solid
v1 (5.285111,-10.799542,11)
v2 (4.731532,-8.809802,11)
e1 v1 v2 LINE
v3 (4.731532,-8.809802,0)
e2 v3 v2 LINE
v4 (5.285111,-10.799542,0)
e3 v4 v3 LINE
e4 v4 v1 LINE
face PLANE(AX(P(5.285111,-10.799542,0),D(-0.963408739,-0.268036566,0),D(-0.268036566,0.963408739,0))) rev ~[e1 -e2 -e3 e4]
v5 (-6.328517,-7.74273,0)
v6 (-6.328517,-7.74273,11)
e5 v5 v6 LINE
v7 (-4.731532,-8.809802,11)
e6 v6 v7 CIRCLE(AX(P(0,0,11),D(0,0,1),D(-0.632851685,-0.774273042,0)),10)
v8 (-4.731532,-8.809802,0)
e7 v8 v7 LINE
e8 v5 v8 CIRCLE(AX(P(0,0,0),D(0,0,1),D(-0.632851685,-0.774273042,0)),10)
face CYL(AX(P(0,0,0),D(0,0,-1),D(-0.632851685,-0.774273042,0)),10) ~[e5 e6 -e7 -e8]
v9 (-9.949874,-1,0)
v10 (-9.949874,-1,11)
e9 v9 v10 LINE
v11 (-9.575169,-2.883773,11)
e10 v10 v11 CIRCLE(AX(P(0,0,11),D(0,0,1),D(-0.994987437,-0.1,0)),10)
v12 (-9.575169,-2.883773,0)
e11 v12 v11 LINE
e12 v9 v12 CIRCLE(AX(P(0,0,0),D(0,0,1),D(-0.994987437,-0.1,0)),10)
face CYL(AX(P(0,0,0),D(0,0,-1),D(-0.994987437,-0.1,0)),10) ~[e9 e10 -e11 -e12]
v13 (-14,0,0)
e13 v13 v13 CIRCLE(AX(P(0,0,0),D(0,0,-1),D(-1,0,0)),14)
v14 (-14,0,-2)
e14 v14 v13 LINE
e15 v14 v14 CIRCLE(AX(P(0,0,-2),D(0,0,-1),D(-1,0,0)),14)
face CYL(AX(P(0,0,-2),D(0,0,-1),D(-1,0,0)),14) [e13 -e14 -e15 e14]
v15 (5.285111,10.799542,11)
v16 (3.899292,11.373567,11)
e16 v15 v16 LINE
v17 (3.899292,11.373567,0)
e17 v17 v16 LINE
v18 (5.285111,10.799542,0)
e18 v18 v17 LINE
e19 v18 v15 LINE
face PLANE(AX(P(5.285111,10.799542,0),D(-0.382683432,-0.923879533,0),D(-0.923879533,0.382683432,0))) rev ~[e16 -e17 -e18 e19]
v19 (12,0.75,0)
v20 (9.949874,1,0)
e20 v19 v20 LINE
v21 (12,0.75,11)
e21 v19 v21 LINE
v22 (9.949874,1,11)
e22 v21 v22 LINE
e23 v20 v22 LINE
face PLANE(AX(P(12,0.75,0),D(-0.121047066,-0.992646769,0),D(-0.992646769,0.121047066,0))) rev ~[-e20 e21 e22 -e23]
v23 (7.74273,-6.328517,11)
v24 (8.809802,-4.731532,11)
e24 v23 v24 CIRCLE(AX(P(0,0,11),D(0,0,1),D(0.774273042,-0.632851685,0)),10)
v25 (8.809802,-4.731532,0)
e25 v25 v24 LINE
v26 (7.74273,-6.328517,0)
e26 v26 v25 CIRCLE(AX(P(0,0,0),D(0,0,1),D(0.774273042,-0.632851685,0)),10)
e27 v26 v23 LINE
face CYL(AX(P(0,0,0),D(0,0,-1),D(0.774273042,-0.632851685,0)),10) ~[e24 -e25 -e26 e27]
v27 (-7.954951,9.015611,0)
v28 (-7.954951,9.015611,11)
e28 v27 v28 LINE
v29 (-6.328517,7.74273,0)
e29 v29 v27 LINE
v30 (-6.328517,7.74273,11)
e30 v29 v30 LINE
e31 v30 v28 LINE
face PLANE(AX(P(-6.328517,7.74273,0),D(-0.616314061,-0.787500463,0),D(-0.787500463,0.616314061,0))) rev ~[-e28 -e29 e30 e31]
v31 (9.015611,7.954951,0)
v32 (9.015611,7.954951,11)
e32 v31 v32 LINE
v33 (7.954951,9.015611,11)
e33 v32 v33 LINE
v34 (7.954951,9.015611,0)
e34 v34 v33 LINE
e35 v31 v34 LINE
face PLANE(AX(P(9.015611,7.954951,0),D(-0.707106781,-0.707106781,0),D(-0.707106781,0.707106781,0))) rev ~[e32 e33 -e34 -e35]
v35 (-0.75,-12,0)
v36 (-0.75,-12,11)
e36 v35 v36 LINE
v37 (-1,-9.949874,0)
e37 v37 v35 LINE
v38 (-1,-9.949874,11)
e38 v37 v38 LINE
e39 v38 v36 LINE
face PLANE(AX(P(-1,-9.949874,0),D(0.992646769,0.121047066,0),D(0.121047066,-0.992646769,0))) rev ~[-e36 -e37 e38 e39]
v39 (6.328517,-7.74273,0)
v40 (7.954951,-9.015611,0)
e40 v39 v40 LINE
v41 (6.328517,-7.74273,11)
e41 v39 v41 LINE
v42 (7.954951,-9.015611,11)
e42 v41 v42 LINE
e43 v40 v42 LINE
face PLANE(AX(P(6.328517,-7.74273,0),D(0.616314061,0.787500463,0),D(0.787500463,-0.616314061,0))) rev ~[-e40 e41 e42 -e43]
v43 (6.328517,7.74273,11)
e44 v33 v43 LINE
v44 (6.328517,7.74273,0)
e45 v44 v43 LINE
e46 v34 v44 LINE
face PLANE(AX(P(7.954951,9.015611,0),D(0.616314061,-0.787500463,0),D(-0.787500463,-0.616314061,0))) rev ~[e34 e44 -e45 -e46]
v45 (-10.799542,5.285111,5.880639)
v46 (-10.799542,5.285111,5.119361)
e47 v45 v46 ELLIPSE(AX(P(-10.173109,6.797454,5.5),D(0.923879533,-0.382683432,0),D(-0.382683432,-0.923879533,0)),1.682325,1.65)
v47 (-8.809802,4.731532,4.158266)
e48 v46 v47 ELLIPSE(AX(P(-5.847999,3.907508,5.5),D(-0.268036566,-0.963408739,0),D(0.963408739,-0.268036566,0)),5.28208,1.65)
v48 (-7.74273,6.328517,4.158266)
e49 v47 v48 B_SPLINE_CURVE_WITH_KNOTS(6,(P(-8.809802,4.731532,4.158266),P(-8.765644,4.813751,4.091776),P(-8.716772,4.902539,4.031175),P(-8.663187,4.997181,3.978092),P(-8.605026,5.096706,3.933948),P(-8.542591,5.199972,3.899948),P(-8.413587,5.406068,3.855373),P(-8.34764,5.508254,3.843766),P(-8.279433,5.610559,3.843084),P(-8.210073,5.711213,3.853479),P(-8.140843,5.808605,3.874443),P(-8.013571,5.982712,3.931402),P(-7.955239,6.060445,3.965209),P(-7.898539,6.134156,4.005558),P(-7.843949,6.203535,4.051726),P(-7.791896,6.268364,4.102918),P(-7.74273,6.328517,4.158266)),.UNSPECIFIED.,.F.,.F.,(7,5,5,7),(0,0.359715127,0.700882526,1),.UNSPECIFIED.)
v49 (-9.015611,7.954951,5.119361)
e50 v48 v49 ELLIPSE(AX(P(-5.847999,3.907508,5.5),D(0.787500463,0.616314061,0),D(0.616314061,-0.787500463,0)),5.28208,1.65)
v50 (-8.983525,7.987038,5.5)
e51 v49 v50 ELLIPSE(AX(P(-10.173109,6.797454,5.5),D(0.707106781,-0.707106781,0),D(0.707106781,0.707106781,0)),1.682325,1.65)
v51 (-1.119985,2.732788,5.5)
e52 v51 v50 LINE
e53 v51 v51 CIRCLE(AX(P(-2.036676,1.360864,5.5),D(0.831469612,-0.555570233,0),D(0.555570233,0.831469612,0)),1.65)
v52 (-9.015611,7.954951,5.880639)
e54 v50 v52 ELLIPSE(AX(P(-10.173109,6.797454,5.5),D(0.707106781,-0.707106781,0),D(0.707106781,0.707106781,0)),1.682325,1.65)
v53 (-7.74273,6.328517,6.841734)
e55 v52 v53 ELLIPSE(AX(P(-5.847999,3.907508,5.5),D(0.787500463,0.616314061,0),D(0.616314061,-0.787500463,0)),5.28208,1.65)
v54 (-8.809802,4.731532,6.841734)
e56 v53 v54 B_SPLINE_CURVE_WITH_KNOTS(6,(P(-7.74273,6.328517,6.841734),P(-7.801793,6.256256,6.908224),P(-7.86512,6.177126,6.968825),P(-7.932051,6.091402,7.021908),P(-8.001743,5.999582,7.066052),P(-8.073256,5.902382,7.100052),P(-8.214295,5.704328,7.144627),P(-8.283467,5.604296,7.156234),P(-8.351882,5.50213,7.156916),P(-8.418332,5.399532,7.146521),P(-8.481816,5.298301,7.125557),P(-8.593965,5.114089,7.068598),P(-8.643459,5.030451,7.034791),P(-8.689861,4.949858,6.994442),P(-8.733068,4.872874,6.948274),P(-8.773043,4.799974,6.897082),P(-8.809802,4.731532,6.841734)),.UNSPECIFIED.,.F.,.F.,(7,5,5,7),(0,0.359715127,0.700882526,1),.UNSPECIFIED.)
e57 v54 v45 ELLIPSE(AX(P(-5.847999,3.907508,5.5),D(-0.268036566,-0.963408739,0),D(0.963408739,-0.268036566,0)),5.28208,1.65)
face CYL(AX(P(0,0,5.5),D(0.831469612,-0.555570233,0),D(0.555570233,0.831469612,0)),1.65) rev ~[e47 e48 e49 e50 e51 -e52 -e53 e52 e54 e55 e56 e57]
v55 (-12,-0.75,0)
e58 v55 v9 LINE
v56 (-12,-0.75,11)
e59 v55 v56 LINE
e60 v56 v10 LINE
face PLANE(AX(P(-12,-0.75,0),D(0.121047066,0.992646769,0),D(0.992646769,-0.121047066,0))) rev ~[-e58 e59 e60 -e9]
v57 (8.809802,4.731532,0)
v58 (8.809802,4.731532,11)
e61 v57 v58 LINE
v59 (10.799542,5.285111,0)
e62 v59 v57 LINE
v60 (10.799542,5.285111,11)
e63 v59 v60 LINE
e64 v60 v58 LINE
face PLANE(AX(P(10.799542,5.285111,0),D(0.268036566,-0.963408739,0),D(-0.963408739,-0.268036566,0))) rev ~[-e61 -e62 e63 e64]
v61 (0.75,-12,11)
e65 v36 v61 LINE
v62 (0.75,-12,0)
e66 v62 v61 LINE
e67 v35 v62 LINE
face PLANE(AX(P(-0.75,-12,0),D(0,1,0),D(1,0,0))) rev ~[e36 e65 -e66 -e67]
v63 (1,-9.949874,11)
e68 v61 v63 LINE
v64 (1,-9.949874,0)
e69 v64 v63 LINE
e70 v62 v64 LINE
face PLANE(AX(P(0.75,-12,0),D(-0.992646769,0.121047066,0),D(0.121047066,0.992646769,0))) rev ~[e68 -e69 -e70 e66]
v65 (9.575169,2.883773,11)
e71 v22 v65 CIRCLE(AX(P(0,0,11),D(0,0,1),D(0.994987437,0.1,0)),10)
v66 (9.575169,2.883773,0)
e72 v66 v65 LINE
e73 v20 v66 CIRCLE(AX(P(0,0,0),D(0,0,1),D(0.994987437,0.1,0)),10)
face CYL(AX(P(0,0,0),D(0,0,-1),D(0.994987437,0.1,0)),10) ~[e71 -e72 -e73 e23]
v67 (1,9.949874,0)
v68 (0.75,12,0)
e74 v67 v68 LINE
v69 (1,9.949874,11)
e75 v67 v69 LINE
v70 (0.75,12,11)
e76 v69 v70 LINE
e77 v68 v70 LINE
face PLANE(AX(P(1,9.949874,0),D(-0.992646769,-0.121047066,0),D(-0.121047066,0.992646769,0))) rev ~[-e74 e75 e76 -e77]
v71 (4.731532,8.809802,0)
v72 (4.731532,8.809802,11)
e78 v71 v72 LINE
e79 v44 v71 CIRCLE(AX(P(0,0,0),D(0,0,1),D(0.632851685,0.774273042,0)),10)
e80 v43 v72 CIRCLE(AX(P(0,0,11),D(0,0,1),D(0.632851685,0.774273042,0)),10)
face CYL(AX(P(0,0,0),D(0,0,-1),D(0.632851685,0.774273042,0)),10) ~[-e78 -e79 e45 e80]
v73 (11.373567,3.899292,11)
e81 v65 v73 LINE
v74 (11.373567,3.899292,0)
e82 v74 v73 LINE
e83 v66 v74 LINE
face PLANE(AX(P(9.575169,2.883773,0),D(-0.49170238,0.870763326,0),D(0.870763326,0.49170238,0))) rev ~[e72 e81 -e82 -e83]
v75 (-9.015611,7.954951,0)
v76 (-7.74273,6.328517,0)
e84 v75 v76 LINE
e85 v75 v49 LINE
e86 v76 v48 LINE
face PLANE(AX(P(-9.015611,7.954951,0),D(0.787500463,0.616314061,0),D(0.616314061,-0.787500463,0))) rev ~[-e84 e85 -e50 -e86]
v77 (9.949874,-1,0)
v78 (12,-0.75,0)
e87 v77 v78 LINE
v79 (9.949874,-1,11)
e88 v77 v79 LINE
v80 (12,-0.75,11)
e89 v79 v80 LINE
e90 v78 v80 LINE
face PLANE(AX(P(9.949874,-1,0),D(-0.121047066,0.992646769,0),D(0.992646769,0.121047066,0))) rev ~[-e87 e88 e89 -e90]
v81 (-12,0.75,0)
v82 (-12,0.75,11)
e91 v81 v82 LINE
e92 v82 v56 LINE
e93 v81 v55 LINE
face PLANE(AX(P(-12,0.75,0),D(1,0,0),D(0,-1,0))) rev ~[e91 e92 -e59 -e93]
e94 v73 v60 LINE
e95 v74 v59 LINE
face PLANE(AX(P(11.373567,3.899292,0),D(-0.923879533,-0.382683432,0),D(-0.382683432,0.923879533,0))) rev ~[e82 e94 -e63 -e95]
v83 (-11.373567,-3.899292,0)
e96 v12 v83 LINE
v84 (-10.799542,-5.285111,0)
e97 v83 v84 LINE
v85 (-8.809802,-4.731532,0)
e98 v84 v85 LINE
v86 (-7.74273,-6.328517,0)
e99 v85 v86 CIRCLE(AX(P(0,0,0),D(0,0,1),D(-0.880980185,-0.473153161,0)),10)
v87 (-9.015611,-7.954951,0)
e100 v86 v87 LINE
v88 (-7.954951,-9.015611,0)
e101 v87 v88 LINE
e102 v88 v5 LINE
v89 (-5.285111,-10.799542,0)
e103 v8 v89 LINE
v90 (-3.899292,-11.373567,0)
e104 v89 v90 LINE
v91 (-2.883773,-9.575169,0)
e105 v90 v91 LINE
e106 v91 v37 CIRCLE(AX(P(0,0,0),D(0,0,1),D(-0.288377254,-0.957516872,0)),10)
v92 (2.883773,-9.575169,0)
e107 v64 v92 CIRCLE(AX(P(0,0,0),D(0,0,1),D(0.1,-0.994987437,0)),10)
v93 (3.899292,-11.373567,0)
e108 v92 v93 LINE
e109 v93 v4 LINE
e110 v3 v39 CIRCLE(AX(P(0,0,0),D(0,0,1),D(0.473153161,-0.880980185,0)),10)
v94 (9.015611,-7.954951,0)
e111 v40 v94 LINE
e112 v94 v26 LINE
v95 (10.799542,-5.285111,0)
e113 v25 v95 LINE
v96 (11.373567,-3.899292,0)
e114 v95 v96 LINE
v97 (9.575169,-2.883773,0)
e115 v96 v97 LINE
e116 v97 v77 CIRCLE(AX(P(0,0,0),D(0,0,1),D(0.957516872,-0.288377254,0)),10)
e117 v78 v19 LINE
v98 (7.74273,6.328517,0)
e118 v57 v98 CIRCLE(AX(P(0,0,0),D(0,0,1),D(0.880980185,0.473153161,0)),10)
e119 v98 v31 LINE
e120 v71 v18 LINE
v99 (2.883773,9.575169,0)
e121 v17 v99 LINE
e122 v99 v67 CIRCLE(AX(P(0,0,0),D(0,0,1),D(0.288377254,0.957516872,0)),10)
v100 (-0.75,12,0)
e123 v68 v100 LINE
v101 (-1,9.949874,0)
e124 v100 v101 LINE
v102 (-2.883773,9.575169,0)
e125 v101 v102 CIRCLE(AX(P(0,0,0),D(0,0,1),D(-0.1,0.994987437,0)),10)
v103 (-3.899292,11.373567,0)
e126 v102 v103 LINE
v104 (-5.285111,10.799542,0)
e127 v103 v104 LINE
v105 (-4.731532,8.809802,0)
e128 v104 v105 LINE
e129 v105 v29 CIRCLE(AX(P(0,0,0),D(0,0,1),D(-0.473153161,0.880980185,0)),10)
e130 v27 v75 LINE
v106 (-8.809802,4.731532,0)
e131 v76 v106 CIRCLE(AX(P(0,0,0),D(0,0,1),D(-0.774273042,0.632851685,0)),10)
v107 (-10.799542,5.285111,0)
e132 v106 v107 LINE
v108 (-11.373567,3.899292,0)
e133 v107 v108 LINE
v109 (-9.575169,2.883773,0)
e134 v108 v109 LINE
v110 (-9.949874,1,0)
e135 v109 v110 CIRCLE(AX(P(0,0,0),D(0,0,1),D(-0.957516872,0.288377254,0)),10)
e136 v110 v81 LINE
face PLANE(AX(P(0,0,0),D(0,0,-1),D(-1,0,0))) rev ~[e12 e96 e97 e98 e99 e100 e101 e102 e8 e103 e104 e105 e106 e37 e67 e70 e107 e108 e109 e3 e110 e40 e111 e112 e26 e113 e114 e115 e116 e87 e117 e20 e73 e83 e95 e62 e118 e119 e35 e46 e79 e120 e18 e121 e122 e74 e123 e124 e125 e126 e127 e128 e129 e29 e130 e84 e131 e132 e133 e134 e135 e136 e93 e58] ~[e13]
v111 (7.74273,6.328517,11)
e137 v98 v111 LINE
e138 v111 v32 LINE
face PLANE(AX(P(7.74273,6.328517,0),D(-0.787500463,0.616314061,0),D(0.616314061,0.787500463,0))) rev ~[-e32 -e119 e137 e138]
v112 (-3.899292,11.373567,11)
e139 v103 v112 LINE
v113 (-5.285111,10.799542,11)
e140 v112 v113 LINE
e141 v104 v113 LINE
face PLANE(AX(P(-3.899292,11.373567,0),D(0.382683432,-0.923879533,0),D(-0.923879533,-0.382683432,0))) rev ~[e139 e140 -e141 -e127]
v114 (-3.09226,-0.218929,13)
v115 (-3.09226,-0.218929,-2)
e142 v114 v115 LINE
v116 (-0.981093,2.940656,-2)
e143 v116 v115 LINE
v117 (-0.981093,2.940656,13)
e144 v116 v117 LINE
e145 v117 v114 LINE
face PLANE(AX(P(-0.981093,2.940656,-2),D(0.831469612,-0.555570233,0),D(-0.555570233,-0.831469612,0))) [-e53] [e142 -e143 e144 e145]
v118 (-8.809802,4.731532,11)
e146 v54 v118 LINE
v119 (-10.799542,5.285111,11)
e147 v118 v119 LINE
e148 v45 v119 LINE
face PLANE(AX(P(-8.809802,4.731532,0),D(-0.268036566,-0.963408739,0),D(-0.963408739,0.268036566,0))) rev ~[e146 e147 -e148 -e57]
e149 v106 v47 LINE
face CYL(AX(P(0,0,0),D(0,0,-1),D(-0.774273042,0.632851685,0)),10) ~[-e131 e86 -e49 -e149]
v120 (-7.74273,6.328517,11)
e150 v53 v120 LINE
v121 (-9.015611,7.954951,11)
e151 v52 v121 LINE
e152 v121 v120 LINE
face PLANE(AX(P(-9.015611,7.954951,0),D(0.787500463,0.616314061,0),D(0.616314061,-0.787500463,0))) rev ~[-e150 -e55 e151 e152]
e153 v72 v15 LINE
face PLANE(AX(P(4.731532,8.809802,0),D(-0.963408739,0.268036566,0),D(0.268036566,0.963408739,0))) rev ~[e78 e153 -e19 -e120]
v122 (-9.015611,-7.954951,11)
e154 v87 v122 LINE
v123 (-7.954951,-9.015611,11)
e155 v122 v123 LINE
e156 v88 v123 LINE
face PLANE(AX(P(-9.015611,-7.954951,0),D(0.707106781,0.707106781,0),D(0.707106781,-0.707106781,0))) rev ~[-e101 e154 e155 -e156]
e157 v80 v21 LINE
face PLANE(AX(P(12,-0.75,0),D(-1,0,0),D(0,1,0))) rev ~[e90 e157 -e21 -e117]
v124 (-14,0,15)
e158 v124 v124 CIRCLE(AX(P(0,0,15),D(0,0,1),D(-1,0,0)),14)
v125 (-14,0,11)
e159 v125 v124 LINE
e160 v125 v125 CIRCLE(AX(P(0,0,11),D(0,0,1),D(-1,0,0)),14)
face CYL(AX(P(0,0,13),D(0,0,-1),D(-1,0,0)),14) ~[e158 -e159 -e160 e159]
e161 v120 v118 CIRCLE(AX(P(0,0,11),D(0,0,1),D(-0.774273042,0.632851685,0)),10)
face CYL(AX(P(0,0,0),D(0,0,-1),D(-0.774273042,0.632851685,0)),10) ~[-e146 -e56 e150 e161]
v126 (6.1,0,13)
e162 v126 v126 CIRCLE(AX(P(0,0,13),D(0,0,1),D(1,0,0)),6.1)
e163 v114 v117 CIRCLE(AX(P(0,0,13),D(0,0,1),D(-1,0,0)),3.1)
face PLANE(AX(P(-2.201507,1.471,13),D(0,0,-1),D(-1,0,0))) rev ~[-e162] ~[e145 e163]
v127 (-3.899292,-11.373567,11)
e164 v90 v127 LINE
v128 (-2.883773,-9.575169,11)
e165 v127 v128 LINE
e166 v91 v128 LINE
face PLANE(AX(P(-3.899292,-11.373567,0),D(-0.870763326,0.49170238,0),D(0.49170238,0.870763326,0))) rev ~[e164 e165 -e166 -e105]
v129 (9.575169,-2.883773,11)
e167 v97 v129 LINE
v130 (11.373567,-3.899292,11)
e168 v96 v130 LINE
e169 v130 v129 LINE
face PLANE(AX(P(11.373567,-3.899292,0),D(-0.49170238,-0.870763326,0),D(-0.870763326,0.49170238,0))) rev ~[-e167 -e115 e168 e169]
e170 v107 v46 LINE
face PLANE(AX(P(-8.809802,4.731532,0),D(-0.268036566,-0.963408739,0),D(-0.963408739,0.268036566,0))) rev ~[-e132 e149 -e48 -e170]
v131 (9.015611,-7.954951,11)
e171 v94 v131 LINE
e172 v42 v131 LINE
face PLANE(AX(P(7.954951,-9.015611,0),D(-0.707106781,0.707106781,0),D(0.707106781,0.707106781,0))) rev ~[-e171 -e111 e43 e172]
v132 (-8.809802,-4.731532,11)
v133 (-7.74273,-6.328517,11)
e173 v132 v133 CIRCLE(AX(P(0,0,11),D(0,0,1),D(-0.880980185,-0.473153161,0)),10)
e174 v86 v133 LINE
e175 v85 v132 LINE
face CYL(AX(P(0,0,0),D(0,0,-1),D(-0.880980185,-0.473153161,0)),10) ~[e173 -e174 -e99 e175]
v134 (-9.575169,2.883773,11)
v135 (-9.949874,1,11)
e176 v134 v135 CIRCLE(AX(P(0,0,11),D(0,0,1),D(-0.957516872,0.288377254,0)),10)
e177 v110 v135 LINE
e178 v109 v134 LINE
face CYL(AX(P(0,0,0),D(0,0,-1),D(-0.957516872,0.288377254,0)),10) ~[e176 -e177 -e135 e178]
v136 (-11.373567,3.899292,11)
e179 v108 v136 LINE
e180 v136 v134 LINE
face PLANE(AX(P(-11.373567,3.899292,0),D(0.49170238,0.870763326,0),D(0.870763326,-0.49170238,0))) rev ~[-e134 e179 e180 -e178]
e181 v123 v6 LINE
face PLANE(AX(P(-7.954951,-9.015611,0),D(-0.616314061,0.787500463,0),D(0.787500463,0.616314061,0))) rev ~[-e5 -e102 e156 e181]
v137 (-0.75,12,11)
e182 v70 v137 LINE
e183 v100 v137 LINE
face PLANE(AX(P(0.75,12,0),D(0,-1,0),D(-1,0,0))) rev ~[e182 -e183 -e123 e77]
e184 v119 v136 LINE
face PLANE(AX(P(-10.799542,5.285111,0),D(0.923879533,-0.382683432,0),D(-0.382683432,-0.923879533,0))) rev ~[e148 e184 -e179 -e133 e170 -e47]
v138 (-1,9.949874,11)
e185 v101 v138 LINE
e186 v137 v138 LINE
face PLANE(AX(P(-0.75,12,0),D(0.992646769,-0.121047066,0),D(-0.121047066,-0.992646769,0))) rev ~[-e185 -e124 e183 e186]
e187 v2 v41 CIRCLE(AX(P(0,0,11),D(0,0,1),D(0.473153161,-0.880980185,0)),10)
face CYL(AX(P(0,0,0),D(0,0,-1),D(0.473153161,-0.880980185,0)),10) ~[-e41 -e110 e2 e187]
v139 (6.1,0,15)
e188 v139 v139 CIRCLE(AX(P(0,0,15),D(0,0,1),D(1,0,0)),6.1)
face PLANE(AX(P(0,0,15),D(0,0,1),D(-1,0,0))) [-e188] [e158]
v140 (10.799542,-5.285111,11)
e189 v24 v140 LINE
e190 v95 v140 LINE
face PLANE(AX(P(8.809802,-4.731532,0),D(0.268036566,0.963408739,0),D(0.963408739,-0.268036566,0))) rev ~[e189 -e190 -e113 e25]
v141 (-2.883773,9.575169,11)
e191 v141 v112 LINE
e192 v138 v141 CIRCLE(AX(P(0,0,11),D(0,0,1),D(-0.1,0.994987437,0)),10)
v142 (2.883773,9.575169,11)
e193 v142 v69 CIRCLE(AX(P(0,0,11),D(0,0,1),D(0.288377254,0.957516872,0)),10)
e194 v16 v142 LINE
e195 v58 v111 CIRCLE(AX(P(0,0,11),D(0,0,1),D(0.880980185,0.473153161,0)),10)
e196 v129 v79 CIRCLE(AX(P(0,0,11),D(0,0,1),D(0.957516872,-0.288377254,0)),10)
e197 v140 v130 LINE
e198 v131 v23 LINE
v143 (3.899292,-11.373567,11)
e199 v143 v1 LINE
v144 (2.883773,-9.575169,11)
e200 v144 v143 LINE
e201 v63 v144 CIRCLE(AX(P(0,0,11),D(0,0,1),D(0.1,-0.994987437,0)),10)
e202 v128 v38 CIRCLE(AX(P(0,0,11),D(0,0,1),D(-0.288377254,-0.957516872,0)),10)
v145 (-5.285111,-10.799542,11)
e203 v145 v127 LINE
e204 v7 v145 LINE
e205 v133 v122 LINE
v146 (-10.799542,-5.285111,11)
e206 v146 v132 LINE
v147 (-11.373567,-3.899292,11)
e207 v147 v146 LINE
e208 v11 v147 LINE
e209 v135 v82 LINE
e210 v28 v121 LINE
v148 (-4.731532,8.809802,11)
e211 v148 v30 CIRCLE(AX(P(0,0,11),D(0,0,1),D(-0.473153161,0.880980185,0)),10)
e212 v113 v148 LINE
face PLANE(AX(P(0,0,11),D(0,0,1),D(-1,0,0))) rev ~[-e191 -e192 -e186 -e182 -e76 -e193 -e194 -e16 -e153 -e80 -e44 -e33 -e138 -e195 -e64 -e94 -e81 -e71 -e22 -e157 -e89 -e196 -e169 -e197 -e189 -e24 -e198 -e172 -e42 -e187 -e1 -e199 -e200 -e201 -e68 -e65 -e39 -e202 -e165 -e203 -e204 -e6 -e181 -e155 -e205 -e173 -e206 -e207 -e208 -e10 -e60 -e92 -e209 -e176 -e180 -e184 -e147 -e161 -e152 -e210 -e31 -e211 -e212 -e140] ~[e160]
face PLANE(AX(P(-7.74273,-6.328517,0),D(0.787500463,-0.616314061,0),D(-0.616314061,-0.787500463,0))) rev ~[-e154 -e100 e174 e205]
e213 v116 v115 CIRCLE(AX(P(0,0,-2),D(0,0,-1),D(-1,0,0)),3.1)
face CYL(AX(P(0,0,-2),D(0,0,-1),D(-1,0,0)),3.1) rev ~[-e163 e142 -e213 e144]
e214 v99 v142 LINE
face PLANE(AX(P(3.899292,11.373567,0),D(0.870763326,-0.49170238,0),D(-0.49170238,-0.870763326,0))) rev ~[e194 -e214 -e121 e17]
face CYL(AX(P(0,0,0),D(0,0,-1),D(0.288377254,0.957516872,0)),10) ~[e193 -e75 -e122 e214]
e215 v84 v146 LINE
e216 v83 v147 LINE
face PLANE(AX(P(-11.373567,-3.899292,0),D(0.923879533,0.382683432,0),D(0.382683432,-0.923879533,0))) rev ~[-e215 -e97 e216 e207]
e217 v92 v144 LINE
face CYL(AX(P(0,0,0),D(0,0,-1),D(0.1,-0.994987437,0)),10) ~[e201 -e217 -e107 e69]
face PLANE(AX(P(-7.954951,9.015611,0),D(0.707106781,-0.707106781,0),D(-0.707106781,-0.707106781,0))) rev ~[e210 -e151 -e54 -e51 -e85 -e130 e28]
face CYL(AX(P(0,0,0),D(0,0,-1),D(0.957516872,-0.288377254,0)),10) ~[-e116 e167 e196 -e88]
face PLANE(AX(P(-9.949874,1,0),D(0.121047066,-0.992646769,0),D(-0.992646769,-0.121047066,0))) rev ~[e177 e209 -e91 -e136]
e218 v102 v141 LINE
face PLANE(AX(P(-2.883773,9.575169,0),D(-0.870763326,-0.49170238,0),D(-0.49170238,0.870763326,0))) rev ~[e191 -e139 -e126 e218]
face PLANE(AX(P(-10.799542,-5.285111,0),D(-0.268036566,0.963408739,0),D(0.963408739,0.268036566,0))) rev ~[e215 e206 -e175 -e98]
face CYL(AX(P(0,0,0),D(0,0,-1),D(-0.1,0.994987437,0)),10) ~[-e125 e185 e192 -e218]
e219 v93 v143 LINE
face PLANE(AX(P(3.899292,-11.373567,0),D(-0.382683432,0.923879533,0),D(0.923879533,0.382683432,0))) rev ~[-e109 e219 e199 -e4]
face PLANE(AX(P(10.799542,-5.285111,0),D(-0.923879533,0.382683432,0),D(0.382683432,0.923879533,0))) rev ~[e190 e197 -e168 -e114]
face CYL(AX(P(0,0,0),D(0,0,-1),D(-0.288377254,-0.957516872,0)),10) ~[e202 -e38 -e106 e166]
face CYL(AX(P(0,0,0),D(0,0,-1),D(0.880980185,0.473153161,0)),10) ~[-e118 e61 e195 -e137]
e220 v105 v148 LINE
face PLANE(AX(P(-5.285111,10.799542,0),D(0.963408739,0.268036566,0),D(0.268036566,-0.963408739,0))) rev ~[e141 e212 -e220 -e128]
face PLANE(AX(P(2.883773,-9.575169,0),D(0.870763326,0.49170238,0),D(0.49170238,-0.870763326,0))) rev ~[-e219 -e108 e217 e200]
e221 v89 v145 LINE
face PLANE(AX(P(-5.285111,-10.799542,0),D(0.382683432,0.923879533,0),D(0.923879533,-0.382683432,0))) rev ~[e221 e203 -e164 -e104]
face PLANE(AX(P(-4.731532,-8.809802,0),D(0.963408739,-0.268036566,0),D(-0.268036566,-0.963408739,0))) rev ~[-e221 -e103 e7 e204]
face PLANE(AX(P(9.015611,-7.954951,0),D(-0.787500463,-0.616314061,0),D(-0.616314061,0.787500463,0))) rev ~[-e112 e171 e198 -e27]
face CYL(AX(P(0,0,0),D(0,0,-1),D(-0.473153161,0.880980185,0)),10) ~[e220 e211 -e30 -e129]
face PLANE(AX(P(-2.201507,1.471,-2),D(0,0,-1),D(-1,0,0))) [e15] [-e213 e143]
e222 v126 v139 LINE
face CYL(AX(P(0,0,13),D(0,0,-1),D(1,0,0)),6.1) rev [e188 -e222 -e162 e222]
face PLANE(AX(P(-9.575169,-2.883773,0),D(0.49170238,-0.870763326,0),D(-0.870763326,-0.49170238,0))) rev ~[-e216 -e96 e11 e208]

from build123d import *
from build123d.topology import SkipClean

# Parameters (mm, degrees)
SKETCH_1_R          = 3.1
SKETCH_1_W          = 1.5
SKETCH_1_H          = 1.949874371
EXTRUDE_1_DEPTH     = 11
EXTRUDE_START       = 2
SKETCH_3_R          = 14
SKETCH_3_R_2        = 3.1
EXTRUDE_2_DEPTH     = 2
SKETCH_4_R          = 14
SKETCH_4_R_2        = 3.1
EXTRUDE_3_DEPTH     = 2
SKETCH_5_R          = 14
SKETCH_5_R_2        = 6.1
EXTRUDE_4_DEPTH     = 2
EXTRUDE_5_DEPTH     = 15
SKETCH_2_R          = 1.65
CUT_EXTRUDE_3_DEPTH = 25.839484697


with BuildPart() as part:
    # ｽｹｯﾁ1 → ﾎﾞｽ - 押し出し1 (new body)
    # profile 1 of 23: a face of its own
    with BuildSketch(Plane.XY):
        with BuildLine():
            ThreePointArc((-4.731531608, 8.80980185), (-3.826834324, 9.238795325), (-2.883772543, 9.575168715))
            Line((-2.883772543, 9.575168715), (-3.899291539, 11.373566964))
            Line((-3.899291539, 11.373566964), (-5.285110838, 10.799541816))
            Line((-5.285110838, 10.799541816), (-4.731531608, 8.80980185))
        make_face()
    # profile 2 of 23: a face of its own
    with BuildSketch(Plane.XY):
        with BuildLine():
            Line((-0.75, 9.971835338), (-0.75, 12))
            Line((-0.75, 12), (-1, 9.949874371))
            ThreePointArc((-1, 9.949874371), (-0.875068895, 9.961639144), (-0.75, 9.971835338))
        make_face()
    # profile 3 of 23: a face of its own
    with BuildSketch(Plane.XY):
        with BuildLine():
            Line((0.75, 12), (-0.75, 12))
            Line((-0.75, 12), (-0.75, 9.971835338))
            ThreePointArc((-0.75, 9.971835338), (0, 10), (0.75, 9.971835338))
            Line((0.75, 9.971835338), (0.75, 12))
        make_face()
    # profile 4 of 23: a face of its own
    with BuildSketch(Plane.XY):
        with BuildLine():
            Line((1, 9.949874371), (0.75, 12))
            Line((0.75, 12), (0.75, 9.971835338))
            ThreePointArc((0.75, 9.971835338), (0.875068895, 9.961639144), (1, 9.949874371))
        make_face()
    # profile 5 of 23: a face of its own
    with BuildSketch(Plane.XY):
        with BuildLine():
            ThreePointArc((-7.742730421, 6.328516859), (-7.071067812, 7.071067812), (-6.328516859, 7.742730421))
            Line((-6.328516859, 7.742730421), (-7.954951288, 9.01561146))
            Line((-7.954951288, 9.01561146), (-9.01561146, 7.954951288))
            Line((-9.01561146, 7.954951288), (-7.742730421, 6.328516859))
        make_face()
    # profile 6 of 23: a face of its own
    with BuildSketch(Plane.XY):
        with BuildLine():
            ThreePointArc((-9.575168715, 2.883772543), (-9.238795325, 3.826834324), (-8.80980185, 4.731531608))
            Line((-8.80980185, 4.731531608), (-10.799541816, 5.285110838))
            Line((-10.799541816, 5.285110838), (-11.373566964, 3.899291539))
            Line((-11.373566964, 3.899291539), (-9.575168715, 2.883772543))
        make_face()
    # profile 7 of 23: a face of its own
    with BuildSketch(Plane.XY):
        with BuildLine():
            ThreePointArc((-9.949874371, -1), (-10, 0), (-9.949874371, 1))
            Line((-9.949874371, 1), (-12, 0.75))
            Line((-12, 0.75), (-12, -0.75))
            Line((-12, -0.75), (-9.949874371, -1))
        make_face()
    # profile 8 of 23: a face of its own
    with BuildSketch(Plane.XY):
        with BuildLine():
            ThreePointArc((-8.80980185, -4.731531608), (-9.238795325, -3.826834324), (-9.575168715, -2.883772543))
            Line((-9.575168715, -2.883772543), (-11.373566964, -3.899291539))
            Line((-11.373566964, -3.899291539), (-10.799541816, -5.285110838))
            Line((-10.799541816, -5.285110838), (-8.80980185, -4.731531608))
        make_face()
    # profile 9 of 23: a face of its own
    with BuildSketch(Plane.XY):
        with BuildLine():
            ThreePointArc((-6.328516859, -7.742730421), (-7.071067812, -7.071067812), (-7.742730421, -6.328516859))
            Line((-7.742730421, -6.328516859), (-9.01561146, -7.954951288))
            Line((-9.01561146, -7.954951288), (-7.954951288, -9.01561146))
            Line((-7.954951288, -9.01561146), (-6.328516859, -7.742730421))
        make_face()
    # profile 10 of 23: a face of its own
    with BuildSketch(Plane.XY):
        with BuildLine():
            ThreePointArc((-2.883772543, -9.575168715), (-3.826834324, -9.238795325), (-4.731531608, -8.80980185))
            Line((-4.731531608, -8.80980185), (-5.285110838, -10.799541816))
            Line((-5.285110838, -10.799541816), (-3.899291539, -11.373566964))
            Line((-3.899291539, -11.373566964), (-2.883772543, -9.575168715))
        make_face()
    # profile 11 of 23: a face of its own
    with BuildSketch(Plane.XY):
        with BuildLine():
            ThreePointArc((1, -9.949874371), (0, -10), (-1, -9.949874371))
            Line((-1, -9.949874371), (-0.75, -12))
            Line((-0.75, -12), (0.75, -12))
            Line((0.75, -12), (1, -9.949874371))
        make_face()
    # profile 12 of 23: a face of its own
    with BuildSketch(Plane.XY):
        with BuildLine():
            Line((5.285110838, -10.799541816), (4.731531608, -8.80980185))
            ThreePointArc((4.731531608, -8.80980185), (3.826834324, -9.238795325), (2.883772543, -9.575168715))
            Line((2.883772543, -9.575168715), (3.899291539, -11.373566964))
            Line((3.899291539, -11.373566964), (5.285110838, -10.799541816))
        make_face()
    # profile 13 of 23: a face of its own
    with BuildSketch(Plane.XY):
        with BuildLine():
            Line((9.01561146, -7.954951288), (7.742730421, -6.328516859))
            ThreePointArc((7.742730421, -6.328516859), (7.071067812, -7.071067812), (6.328516859, -7.742730421))
            Line((6.328516859, -7.742730421), (7.954951288, -9.01561146))
            Line((7.954951288, -9.01561146), (9.01561146, -7.954951288))
        make_face()
    # profile 14 of 23: a face of its own
    with BuildSketch(Plane.XY):
        with BuildLine():
            Line((11.373566964, -3.899291539), (9.575168715, -2.883772543))
            ThreePointArc((9.575168715, -2.883772543), (9.238795325, -3.826834324), (8.80980185, -4.731531608))
            Line((8.80980185, -4.731531608), (10.799541816, -5.285110838))
            Line((10.799541816, -5.285110838), (11.373566964, -3.899291539))
        make_face()
    # profile 15 of 23: a face of its own
    with BuildSketch(Plane.XY):
        with BuildLine():
            Line((12, 0.75), (9.949874371, 1))
            ThreePointArc((9.949874371, 1), (9.987460731, 0.500627751), (10, 0))
            ThreePointArc((10, 0), (9.987460731, -0.500627751), (9.949874371, -1))
            Line((9.949874371, -1), (12, -0.75))
            Line((12, -0.75), (12, 0.75))
        make_face()
    # profile 16 of 23: a face of its own
    with BuildSketch(Plane.XY):
        with BuildLine():
            Line((10.799541816, 5.285110838), (8.80980185, 4.731531608))
            ThreePointArc((8.80980185, 4.731531608), (9.238795325, 3.826834324), (9.575168715, 2.883772543))
            Line((9.575168715, 2.883772543), (11.373566964, 3.899291539))
            Line((11.373566964, 3.899291539), (10.799541816, 5.285110838))
        make_face()
    # profile 17 of 23: a face of its own
    with BuildSketch(Plane.XY):
        with BuildLine():
            Line((7.954951288, 9.01561146), (6.328516859, 7.742730421))
            ThreePointArc((6.328516859, 7.742730421), (7.071067812, 7.071067812), (7.742730421, 6.328516859))
            Line((7.742730421, 6.328516859), (9.01561146, 7.954951288))
            Line((9.01561146, 7.954951288), (7.954951288, 9.01561146))
        make_face()
    # profile 18 of 23: a face of its own
    with BuildSketch(Plane.XY):
        with BuildLine():
            Line((3.899291539, 11.373566964), (2.883772543, 9.575168715))
            ThreePointArc((2.883772543, 9.575168715), (3.826834324, 9.238795325), (4.731531608, 8.80980185))
            Line((4.731531608, 8.80980185), (5.285110838, 10.799541816))
            Line((5.285110838, 10.799541816), (3.899291539, 11.373566964))
        make_face()
    # profile 19 of 23: a face of its own
    with BuildSketch(Plane.XY):
        with BuildLine():
            Line((-0.75, 9.949874371), (-1, 9.949874371))
            ThreePointArc((-1, 9.949874371), (-1.95090322, 9.807852804), (-2.883772543, 9.575168715))
            ThreePointArc((-2.883772543, 9.575168715), (-3.826834324, 9.238795325), (-4.731531608, 8.80980185))
            ThreePointArc((-4.731531608, 8.80980185), (-5.55570233, 8.314696123), (-6.328516859, 7.742730421))
            ThreePointArc((-6.328516859, 7.742730421), (-7.071067812, 7.071067812), (-7.742730421, 6.328516859))
            ThreePointArc((-7.742730421, 6.328516859), (-8.314696123, 5.55570233), (-8.80980185, 4.731531608))
            ThreePointArc((-8.80980185, 4.731531608), (-9.238795325, 3.826834324), (-9.575168715, 2.883772543))
            ThreePointArc((-9.575168715, 2.883772543), (-9.807852804, 1.95090322), (-9.949874371, 1))
            ThreePointArc((-9.949874371, 1), (-10, 0), (-9.949874371, -1))
            ThreePointArc((-9.949874371, -1), (-9.807852804, -1.95090322), (-9.575168715, -2.883772543))
            ThreePointArc((-9.575168715, -2.883772543), (-9.238795325, -3.826834324), (-8.80980185, -4.731531608))
            ThreePointArc((-8.80980185, -4.731531608), (-8.314696123, -5.55570233), (-7.742730421, -6.328516859))
            ThreePointArc((-7.742730421, -6.328516859), (-7.071067812, -7.071067812), (-6.328516859, -7.742730421))
            ThreePointArc((-6.328516859, -7.742730421), (-5.55570233, -8.314696123), (-4.731531608, -8.80980185))
            ThreePointArc((-4.731531608, -8.80980185), (-3.826834324, -9.238795325), (-2.883772543, -9.575168715))
            ThreePointArc((-2.883772543, -9.575168715), (-1.95090322, -9.807852804), (-1, -9.949874371))
            ThreePointArc((-1, -9.949874371), (0, -10), (1, -9.949874371))
            ThreePointArc((1, -9.949874371), (1.95090322, -9.807852804), (2.883772543, -9.575168715))
            ThreePointArc((2.883772543, -9.575168715), (3.826834324, -9.238795325), (4.731531608, -8.80980185))
            ThreePointArc((4.731531608, -8.80980185), (5.55570233, -8.314696123), (6.328516859, -7.742730421))
            ThreePointArc((6.328516859, -7.742730421), (7.071067812, -7.071067812), (7.742730421, -6.328516859))
            ThreePointArc((7.742730421, -6.328516859), (8.314696123, -5.55570233), (8.80980185, -4.731531608))
            ThreePointArc((8.80980185, -4.731531608), (9.238795325, -3.826834324), (9.575168715, -2.883772543))
            ThreePointArc((9.575168715, -2.883772543), (9.807852804, -1.95090322), (9.949874371, -1))
            ThreePointArc((9.949874371, -1), (9.987460731, -0.500627751), (10, 0))
            ThreePointArc((10, 0), (9.987460731, 0.500627751), (9.949874371, 1))
            ThreePointArc((9.949874371, 1), (9.807852804, 1.95090322), (9.575168715, 2.883772543))
            ThreePointArc((9.575168715, 2.883772543), (9.238795325, 3.826834324), (8.80980185, 4.731531608))
            ThreePointArc((8.80980185, 4.731531608), (8.314696123, 5.55570233), (7.742730421, 6.328516859))
            ThreePointArc((7.742730421, 6.328516859), (7.071067812, 7.071067812), (6.328516859, 7.742730421))
            ThreePointArc((6.328516859, 7.742730421), (5.55570233, 8.314696123), (4.731531608, 8.80980185))
            ThreePointArc((4.731531608, 8.80980185), (3.826834324, 9.238795325), (2.883772543, 9.575168715))
            ThreePointArc((2.883772543, 9.575168715), (1.95090322, 9.807852804), (1, 9.949874371))
            Line((1, 9.949874371), (0.75, 9.949874371))
            Line((0.75, 9.949874371), (0.75, 8))
            Line((0.75, 8), (-0.75, 8))
            Line((-0.75, 8), (-0.75, 9.949874371))
        make_face()
        Circle(SKETCH_1_R, mode=Mode.SUBTRACT)
    # profile 20 of 23: a face of its own
    with BuildSketch(Plane.XY):
        with Locations((0, 8.974937185)):
            Rectangle(SKETCH_1_W, SKETCH_1_H)
    # profile 21 of 23: a face of its own
    with BuildSketch(Plane.XY):
        with BuildLine():
            ThreePointArc((0.75, 9.971835338), (0, 10), (-0.75, 9.971835338))
            Line((-0.75, 9.971835338), (-0.75, 9.949874371))
            Line((-0.75, 9.949874371), (0.75, 9.949874371))
            Line((0.75, 9.949874371), (0.75, 9.971835338))
        make_face()
    # profile 22 of 23: a face of its own
    with BuildSketch(Plane.XY):
        with BuildLine():
            ThreePointArc((-0.75, 9.971835338), (-0.875068895, 9.961639144), (-1, 9.949874371))
            Line((-1, 9.949874371), (-0.75, 9.949874371))
            Line((-0.75, 9.949874371), (-0.75, 9.971835338))
        make_face()
    # profile 23 of 23: a face of its own
    with BuildSketch(Plane.XY):
        with BuildLine():
            ThreePointArc((1, 9.949874371), (0.875068895, 9.961639144), (0.75, 9.971835338))
            Line((0.75, 9.971835338), (0.75, 9.949874371))
            Line((0.75, 9.949874371), (1, 9.949874371))
        make_face()
    extrude(amount=EXTRUDE_1_DEPTH)

    # ｽｹｯﾁ3 → ﾎﾞｽ - 押し出し2 (add)
    with SkipClean():  # the faces are left unmerged after this step: merging them gives an invalid solid
        with BuildSketch(Plane(origin=(0, 0, 0), x_dir=(-1, 0, 0), z_dir=(0, 0, -1)).offset(EXTRUDE_START)):
            Circle(SKETCH_3_R)
            Circle(SKETCH_3_R_2, mode=Mode.SUBTRACT)
        extrude(amount=-EXTRUDE_2_DEPTH)

    # ｽｹｯﾁ4 → ﾎﾞｽ - 押し出し3 (add)
    with BuildSketch(Plane.XY.offset(11)):
        with Locations(Location((0, 0, 0), (0, 0, 180))):
            Circle(SKETCH_4_R)
        with Locations(Location((0, 0, 0), (0, 0, 180))):
            Circle(SKETCH_4_R_2, mode=Mode.SUBTRACT)
    extrude(amount=EXTRUDE_3_DEPTH)

    # ｽｹｯﾁ5 → ﾎﾞｽ - 押し出し4 (add)
    with BuildSketch(Plane.XY.offset(13)):
        with Locations(Location((0, 0, 0), (0, 0, 180))):
            Circle(SKETCH_5_R)
        Circle(SKETCH_5_R_2, mode=Mode.SUBTRACT)
    extrude(amount=EXTRUDE_4_DEPTH)

    # ｽｹｯﾁ6 → ﾎﾞｽ - 押し出し5 (add)
    with BuildSketch(Plane(origin=(0, 0, -2), x_dir=(-1, 0, 0), z_dir=(0, 0, -1))):
        with BuildLine():
            Line((0.981092844, 2.940655851), (3.09225973, -0.218928676))
            ThreePointArc((3.09225973, -0.218928676), (2.577555798, 1.722267722), (0.981092844, 2.940655851))
        make_face()
    extrude(amount=-EXTRUDE_5_DEPTH)

    # ｽｹｯﾁ2 → ｶｯﾄ - 押し出し3 (cut, through all)
    with BuildSketch(Plane(origin=(0, 0, 0), x_dir=(0, 0, -1), z_dir=(0.8314696123025446, -0.5555702330196034, 0))):
        with Locations(Location((-5.5, 0, 0), (0, 0, 90))):
            Circle(SKETCH_2_R)
    extrude(amount=-CUT_EXTRUDE_3_DEPTH, mode=Mode.SUBTRACT)


solid = part.part
